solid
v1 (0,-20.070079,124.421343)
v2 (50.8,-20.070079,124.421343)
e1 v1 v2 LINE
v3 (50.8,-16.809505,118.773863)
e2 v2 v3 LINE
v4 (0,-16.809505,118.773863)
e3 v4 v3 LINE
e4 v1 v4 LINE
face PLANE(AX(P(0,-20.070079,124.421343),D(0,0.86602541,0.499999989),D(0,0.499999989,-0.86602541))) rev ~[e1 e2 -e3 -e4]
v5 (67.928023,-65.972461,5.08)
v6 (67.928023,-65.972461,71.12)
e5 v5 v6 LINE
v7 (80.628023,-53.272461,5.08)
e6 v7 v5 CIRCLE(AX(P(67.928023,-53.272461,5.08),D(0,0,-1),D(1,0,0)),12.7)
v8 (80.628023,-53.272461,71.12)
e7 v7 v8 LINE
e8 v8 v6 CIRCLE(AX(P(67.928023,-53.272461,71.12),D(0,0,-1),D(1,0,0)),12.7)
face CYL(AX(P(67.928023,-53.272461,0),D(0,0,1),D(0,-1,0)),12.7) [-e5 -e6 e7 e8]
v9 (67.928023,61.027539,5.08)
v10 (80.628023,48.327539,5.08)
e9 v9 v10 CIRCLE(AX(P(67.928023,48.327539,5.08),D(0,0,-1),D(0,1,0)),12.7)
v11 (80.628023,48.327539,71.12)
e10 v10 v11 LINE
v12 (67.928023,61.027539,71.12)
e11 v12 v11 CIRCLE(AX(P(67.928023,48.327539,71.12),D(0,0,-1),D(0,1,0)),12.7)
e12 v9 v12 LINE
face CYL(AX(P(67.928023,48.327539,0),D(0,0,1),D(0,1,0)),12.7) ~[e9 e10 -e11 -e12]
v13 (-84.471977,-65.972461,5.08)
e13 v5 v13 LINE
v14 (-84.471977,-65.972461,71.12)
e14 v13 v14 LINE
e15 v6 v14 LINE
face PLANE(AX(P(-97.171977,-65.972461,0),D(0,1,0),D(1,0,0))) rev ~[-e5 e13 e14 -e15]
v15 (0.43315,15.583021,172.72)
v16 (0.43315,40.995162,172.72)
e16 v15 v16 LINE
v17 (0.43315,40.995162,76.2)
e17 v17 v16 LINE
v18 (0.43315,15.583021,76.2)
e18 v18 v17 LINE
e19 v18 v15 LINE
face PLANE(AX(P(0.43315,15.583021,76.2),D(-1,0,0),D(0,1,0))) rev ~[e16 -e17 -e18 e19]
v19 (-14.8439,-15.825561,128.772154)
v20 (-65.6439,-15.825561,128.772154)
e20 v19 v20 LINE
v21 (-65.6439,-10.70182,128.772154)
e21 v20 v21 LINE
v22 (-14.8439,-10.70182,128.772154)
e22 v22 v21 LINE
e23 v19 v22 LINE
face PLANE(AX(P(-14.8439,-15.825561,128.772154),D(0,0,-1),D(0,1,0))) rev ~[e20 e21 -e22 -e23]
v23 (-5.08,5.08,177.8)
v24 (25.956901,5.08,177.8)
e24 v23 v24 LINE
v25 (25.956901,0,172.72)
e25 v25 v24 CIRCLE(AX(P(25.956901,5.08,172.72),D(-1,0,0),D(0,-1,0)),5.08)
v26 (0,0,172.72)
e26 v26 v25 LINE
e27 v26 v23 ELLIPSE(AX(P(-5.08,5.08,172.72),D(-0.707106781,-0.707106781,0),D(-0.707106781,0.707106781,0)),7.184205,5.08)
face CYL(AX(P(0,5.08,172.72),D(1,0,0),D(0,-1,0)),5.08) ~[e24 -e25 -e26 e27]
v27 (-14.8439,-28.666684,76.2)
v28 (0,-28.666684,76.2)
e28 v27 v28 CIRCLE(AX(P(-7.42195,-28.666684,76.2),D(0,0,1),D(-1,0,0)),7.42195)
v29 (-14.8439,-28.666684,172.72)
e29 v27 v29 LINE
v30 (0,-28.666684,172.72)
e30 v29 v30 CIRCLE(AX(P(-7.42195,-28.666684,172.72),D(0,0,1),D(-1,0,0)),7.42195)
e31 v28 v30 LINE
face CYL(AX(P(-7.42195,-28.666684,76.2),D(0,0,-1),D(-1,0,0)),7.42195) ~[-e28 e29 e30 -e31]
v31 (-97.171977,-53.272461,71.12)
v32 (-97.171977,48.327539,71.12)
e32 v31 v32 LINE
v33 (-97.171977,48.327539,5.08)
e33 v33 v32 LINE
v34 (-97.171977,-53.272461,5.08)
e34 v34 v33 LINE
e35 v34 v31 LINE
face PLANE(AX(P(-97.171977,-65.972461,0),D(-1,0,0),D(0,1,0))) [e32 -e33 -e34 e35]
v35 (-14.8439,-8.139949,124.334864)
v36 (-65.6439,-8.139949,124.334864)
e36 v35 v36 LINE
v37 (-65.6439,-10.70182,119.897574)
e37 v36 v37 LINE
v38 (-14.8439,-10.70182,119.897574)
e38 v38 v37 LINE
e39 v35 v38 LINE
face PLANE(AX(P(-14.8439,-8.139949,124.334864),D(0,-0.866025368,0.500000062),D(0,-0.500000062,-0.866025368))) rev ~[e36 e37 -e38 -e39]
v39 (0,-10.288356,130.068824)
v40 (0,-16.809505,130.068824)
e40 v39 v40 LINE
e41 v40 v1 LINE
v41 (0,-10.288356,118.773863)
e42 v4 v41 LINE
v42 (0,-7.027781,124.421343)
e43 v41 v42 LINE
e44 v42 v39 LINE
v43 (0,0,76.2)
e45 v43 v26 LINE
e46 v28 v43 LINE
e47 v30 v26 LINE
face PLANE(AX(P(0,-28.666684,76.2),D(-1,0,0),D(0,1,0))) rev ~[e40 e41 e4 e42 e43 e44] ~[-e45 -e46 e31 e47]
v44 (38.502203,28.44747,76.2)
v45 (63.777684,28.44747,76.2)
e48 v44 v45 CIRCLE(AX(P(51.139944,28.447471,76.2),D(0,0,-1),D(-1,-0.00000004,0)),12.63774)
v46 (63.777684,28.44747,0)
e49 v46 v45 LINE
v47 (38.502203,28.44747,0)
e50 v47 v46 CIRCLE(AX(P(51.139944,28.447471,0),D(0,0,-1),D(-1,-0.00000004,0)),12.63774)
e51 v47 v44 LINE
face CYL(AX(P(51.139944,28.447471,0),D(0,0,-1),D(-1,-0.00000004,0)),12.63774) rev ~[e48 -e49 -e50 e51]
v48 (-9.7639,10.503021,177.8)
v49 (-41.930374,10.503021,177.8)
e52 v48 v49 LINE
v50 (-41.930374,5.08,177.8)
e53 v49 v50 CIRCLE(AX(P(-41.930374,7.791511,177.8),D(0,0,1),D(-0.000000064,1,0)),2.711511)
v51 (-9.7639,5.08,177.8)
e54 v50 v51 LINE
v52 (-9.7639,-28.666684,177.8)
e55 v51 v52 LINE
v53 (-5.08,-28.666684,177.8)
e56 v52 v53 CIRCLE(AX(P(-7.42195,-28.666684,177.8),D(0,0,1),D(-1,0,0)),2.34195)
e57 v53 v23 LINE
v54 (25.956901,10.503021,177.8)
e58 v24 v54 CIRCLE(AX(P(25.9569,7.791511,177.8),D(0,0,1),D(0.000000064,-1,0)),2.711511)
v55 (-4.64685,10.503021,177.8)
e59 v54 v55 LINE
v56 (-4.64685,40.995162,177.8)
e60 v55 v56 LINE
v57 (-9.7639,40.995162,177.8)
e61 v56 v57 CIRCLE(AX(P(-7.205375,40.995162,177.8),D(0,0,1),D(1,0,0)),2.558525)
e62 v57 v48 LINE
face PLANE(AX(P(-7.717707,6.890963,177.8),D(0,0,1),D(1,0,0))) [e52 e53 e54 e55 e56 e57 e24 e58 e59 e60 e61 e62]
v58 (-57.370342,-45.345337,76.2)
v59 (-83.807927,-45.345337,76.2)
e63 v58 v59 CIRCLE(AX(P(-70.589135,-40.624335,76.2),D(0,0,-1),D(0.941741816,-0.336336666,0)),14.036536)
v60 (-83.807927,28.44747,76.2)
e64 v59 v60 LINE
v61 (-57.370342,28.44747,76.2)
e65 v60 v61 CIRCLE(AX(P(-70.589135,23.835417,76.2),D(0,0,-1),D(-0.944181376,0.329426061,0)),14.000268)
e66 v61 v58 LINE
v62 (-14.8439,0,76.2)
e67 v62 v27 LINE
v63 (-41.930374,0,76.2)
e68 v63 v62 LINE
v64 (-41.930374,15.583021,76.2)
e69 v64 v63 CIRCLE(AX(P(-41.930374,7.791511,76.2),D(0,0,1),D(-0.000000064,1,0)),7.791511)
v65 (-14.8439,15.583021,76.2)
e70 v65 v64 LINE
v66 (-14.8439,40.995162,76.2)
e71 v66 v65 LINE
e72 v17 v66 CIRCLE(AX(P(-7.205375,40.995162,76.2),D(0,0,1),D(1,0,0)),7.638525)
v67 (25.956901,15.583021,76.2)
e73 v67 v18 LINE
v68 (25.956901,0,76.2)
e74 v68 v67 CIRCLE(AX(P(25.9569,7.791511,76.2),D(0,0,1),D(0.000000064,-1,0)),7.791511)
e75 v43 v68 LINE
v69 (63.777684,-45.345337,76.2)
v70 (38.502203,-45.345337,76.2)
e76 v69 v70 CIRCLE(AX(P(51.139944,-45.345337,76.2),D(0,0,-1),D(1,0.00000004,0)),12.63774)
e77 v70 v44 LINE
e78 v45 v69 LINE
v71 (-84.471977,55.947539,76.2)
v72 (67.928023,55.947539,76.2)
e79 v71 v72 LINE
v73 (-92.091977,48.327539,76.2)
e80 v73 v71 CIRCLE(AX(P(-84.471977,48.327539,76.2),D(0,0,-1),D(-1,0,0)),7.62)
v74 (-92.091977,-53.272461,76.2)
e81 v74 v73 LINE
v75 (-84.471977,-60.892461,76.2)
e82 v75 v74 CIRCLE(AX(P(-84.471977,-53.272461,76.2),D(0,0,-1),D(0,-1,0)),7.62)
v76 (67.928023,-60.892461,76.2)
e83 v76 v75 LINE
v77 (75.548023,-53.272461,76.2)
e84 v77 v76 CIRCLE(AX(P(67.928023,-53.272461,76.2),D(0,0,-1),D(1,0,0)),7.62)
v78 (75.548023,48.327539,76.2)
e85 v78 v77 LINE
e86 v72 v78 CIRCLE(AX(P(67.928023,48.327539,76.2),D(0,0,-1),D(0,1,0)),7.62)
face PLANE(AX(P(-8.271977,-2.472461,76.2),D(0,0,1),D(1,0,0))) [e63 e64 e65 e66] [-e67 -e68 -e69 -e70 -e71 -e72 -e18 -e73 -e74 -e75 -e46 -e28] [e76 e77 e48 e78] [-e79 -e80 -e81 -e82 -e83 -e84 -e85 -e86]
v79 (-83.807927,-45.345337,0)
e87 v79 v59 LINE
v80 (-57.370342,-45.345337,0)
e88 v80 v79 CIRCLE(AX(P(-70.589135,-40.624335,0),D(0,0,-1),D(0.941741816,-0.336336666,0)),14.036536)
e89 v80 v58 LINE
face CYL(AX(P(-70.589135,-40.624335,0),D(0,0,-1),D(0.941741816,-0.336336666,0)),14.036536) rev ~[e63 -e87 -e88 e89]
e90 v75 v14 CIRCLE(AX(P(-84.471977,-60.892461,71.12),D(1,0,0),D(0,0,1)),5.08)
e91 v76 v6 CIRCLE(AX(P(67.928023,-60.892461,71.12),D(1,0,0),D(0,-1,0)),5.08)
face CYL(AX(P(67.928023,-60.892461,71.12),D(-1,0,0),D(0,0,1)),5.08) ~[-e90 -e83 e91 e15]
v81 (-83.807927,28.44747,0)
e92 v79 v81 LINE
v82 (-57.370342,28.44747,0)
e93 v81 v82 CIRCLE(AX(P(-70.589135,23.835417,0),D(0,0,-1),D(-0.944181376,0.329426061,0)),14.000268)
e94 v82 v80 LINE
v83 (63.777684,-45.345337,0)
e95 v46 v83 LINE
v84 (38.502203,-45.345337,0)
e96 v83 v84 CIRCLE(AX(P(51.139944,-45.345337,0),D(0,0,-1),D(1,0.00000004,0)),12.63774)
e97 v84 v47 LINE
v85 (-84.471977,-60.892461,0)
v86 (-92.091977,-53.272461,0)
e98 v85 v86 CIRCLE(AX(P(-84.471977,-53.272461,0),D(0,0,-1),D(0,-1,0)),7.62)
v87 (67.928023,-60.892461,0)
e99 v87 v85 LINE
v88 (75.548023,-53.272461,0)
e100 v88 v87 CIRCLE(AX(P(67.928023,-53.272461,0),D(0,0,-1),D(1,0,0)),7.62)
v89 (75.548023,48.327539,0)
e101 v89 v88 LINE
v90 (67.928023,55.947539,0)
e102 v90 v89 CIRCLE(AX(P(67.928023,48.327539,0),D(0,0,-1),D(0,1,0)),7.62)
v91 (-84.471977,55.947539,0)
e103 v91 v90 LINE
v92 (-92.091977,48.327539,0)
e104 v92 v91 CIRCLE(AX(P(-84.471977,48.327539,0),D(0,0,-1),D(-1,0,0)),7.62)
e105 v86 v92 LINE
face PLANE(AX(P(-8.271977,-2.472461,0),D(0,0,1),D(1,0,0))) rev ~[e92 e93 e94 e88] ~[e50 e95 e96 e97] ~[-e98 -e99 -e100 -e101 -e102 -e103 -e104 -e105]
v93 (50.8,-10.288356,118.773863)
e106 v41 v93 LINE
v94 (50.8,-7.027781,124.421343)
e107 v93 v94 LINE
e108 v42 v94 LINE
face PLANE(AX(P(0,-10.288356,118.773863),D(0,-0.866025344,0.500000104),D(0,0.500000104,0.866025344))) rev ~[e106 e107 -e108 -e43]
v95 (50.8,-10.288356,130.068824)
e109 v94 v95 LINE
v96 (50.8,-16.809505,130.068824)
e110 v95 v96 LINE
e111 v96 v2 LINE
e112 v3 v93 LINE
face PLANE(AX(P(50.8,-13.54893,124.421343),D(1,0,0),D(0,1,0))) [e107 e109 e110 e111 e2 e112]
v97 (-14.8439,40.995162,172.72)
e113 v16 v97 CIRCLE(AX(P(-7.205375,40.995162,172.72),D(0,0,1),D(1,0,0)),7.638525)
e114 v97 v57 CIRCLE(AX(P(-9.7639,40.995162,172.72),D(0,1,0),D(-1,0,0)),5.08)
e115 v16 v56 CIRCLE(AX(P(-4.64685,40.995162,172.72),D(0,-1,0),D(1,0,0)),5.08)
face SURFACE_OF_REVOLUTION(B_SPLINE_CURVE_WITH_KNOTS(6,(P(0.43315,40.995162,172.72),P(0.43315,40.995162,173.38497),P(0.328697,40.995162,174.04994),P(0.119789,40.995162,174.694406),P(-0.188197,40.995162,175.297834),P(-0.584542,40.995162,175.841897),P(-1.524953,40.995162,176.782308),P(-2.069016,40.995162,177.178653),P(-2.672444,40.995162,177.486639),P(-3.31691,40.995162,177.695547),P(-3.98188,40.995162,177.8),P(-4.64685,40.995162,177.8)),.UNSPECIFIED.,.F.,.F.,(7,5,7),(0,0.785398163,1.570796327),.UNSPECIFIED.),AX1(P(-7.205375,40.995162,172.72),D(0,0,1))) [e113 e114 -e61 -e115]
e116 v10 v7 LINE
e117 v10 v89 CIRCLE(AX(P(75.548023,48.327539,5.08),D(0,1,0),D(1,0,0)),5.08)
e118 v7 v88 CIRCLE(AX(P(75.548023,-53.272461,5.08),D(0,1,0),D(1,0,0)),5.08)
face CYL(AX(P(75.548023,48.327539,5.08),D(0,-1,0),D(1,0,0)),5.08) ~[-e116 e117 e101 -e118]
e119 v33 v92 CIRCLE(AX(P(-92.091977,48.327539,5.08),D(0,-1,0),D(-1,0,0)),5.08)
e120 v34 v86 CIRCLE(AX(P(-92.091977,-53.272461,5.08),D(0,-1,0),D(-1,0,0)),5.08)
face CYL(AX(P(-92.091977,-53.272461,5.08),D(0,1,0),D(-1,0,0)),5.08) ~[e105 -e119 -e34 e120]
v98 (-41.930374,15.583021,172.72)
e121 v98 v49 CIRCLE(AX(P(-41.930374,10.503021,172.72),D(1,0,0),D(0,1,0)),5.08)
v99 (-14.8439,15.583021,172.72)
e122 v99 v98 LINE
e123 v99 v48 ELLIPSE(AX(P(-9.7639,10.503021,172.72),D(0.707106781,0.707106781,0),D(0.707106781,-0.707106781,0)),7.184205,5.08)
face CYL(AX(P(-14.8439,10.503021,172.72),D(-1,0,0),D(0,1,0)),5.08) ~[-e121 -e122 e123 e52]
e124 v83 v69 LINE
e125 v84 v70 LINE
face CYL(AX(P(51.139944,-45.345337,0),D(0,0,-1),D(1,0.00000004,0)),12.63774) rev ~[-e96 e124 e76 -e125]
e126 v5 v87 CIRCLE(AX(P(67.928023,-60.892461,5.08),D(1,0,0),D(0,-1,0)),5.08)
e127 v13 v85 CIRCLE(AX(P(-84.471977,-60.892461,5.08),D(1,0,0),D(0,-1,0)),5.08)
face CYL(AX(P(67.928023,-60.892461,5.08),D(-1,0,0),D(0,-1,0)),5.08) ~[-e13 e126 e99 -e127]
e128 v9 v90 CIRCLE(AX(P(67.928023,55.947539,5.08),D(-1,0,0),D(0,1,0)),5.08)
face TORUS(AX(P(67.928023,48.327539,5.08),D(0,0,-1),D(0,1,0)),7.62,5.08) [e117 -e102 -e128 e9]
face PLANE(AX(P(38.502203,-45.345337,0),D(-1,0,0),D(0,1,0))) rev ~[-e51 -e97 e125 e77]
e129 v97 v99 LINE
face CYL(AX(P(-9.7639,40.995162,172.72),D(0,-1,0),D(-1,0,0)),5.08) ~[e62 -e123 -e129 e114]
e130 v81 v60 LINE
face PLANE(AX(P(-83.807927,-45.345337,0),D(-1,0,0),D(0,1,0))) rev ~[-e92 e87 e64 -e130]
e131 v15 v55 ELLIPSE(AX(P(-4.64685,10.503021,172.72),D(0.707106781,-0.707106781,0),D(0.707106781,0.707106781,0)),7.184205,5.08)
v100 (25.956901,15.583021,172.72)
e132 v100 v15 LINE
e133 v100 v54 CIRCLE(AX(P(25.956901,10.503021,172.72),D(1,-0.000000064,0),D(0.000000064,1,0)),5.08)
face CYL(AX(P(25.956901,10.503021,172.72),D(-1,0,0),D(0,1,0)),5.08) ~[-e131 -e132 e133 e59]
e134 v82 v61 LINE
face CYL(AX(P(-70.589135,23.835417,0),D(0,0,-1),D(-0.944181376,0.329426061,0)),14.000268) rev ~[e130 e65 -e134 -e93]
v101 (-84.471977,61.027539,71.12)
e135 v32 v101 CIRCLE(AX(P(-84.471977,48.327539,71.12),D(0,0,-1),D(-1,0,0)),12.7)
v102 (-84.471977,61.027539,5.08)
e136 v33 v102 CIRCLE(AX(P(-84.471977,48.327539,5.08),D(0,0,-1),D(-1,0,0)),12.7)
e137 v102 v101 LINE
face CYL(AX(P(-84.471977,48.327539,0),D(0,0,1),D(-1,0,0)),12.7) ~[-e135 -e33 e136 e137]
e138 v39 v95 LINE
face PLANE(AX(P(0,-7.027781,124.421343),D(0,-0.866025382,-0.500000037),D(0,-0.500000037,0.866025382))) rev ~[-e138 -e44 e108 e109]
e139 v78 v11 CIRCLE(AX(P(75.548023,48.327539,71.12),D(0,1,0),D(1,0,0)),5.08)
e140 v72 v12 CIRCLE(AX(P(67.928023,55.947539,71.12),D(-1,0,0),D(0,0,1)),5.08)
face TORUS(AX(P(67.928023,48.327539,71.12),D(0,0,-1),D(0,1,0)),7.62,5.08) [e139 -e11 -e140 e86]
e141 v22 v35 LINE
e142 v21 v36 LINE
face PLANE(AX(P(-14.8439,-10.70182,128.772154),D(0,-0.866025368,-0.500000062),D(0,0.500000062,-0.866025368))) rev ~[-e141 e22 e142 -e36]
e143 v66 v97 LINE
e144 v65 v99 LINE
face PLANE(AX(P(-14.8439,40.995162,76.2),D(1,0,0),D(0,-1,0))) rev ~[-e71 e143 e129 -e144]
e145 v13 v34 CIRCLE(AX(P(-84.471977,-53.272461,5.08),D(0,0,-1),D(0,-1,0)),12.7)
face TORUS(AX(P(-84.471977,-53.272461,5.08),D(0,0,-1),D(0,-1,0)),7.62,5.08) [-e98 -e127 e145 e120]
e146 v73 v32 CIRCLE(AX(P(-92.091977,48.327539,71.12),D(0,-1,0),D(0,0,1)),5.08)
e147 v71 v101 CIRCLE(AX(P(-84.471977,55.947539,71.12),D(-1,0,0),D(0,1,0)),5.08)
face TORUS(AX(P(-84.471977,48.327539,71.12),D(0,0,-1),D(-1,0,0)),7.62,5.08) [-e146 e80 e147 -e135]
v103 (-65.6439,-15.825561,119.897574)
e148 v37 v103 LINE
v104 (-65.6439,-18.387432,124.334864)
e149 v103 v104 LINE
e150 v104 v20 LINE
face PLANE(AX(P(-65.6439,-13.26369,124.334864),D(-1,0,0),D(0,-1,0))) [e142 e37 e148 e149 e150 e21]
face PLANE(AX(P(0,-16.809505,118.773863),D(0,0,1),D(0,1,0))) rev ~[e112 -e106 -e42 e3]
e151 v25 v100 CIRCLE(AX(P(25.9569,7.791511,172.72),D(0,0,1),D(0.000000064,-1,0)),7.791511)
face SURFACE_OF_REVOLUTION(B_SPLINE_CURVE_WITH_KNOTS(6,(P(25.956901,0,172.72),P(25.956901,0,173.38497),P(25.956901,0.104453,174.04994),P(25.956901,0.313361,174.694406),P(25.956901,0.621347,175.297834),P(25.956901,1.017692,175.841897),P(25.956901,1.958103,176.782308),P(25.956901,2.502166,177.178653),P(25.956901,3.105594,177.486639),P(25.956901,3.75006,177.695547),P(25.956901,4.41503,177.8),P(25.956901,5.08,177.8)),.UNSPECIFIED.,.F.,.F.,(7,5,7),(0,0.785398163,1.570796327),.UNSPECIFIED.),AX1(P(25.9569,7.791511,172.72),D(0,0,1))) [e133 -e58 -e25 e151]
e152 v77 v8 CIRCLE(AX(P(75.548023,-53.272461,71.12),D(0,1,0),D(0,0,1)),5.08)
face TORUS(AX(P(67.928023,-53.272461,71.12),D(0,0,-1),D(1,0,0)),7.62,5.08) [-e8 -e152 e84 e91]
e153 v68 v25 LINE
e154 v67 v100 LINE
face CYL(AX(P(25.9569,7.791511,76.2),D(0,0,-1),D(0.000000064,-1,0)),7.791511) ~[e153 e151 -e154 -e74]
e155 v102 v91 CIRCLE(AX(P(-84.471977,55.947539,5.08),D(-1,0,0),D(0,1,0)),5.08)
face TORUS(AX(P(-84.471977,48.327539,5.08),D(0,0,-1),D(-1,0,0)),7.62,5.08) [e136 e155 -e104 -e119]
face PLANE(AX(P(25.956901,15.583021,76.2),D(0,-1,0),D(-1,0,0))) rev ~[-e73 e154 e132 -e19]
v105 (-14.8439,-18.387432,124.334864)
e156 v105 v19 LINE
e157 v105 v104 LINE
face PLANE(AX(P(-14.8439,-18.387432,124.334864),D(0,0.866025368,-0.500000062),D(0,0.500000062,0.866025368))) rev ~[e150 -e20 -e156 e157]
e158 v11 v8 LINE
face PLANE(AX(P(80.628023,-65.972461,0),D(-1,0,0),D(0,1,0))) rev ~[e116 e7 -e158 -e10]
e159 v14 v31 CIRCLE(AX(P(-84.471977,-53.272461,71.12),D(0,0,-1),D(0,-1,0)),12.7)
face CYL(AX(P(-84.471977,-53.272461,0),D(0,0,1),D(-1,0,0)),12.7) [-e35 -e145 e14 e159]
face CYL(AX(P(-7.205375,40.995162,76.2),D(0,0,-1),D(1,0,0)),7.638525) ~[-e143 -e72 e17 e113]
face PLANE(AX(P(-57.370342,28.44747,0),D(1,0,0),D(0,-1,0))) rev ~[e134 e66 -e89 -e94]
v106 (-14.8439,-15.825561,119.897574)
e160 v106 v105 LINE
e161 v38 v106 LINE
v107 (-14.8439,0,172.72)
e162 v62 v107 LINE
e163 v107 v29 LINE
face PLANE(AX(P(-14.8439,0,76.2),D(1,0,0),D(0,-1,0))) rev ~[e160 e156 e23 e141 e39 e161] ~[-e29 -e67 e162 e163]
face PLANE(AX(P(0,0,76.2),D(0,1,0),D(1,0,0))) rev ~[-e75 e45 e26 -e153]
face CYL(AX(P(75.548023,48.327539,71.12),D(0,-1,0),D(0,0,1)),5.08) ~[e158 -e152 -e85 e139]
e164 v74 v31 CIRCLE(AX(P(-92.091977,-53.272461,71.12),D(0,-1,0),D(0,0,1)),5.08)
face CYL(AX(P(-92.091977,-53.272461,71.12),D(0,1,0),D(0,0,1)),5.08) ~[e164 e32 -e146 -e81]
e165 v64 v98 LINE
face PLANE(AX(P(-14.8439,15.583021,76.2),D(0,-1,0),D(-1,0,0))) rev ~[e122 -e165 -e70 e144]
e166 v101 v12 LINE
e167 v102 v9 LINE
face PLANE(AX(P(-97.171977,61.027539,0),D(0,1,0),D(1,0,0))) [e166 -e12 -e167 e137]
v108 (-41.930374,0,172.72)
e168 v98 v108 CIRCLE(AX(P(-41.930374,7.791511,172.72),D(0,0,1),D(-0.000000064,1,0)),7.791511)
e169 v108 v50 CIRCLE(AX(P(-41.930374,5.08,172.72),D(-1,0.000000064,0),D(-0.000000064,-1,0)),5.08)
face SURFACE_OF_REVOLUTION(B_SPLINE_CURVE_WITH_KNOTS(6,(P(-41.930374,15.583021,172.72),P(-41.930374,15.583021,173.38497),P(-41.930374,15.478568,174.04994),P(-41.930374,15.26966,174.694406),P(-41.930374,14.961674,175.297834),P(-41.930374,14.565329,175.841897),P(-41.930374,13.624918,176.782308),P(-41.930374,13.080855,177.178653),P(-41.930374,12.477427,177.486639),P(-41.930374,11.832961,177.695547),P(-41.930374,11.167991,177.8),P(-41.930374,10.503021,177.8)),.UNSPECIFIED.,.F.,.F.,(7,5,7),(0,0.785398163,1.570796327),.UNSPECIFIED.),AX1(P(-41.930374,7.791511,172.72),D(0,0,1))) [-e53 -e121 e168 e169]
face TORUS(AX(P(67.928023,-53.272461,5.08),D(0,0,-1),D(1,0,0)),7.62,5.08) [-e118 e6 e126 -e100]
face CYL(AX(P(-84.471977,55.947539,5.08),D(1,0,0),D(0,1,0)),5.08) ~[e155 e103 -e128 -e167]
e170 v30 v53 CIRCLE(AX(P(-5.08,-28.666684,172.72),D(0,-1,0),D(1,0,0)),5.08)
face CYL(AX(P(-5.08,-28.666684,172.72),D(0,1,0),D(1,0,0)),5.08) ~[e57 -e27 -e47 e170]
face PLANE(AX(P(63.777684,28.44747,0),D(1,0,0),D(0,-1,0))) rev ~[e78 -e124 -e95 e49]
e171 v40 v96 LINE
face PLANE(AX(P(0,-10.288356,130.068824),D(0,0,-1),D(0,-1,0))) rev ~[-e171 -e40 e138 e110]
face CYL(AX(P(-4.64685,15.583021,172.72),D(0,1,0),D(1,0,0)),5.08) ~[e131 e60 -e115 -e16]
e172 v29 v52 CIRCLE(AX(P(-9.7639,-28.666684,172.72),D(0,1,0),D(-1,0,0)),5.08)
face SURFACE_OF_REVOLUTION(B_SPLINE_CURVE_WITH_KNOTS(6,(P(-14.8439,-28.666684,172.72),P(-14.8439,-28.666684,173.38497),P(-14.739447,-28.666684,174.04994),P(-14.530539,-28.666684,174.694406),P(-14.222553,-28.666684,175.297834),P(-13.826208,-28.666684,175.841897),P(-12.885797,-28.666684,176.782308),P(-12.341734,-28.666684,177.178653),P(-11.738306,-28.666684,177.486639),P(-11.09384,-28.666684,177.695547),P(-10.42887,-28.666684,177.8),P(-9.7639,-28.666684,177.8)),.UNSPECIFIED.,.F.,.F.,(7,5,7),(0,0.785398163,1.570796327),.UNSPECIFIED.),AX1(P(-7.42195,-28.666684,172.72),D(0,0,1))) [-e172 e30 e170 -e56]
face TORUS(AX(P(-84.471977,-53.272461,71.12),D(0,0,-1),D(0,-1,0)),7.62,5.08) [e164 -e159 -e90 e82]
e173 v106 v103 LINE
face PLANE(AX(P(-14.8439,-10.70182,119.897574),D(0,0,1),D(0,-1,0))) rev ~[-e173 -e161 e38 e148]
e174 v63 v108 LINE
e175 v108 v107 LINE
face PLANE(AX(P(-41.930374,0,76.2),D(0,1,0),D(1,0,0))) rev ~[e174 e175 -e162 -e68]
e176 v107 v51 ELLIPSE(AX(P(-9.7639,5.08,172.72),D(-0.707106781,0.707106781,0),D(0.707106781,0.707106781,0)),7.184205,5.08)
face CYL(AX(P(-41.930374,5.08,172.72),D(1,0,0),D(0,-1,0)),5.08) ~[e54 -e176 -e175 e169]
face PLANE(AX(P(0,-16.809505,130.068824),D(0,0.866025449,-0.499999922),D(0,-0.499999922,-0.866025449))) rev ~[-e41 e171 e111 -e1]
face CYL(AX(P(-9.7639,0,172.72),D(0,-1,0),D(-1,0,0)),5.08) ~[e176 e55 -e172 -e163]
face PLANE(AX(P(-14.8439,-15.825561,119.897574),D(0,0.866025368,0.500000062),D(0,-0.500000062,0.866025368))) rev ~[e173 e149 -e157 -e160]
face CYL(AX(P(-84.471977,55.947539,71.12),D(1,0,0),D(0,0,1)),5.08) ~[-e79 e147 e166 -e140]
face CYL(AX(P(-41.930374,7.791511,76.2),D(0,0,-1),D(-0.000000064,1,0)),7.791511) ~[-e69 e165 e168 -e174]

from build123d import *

# Parameters (mm, degrees)
F0_W     = 177.8
F0_H     = 127
F1_DEPTH = 76.2
F2_R     = 12.7
F4_DEPTH = 101.6
F6_DEPTH = 50.8
F8_DEPTH = 50.8
F9_R     = 5.08
F10_R    = 5.08


with BuildPart() as f1:
    # F0 (on Top) → F1 (new body)
    with BuildSketch(Plane.XY):
        with Locations((-8.271977, -2.472461)):
            Rectangle(F0_W, F0_H)
        with BuildLine():
            Line((-83.807927, -45.345337), (-83.807927, 28.44747))
            ThreePointArc((-83.807927, 28.44747), (-70.589135, 37.835685), (-57.370342, 28.44747))
            Line((-57.370342, 28.44747), (-57.370342, -45.345337))
            ThreePointArc((-57.370342, -45.345337), (-70.589135, -54.660871), (-83.807927, -45.345337))
        make_face(mode=Mode.SUBTRACT)
        with BuildLine():
            ThreePointArc((38.502203, 28.44747), (51.139944, 41.085211), (63.777684, 28.44747))
            Line((63.777684, 28.44747), (63.777684, -45.345337))
            ThreePointArc((63.777684, -45.345337), (51.139944, -57.983078), (38.502203, -45.345337))
            Line((38.502203, -45.345337), (38.502203, 28.44747))
        make_face(mode=Mode.SUBTRACT)
    extrude(amount=F1_DEPTH)

    # F2
    f2_edges = [f1.edges().sort_by_distance(p)[0] for p in [
        (80.628023, 61.027539, 38.1),
        (80.628023, -65.972461, 38.1),
        (-97.171977, 61.027539, 38.1),
        (-97.171977, -65.972461, 38.1),
    ]]
    fillet(f2_edges, radius=F2_R)

    # F3 (on face) → F4 (join)
    with BuildSketch(Plane.XY.offset(76.2)):
        with BuildLine():
            ThreePointArc((0.43315, 40.995162), (-7.205375, 48.633687), (-14.8439, 40.995162))
            Line((-14.8439, 40.995162), (-14.8439, 15.583021))
            Line((-14.8439, 15.583021), (-41.930374, 15.583021))
            ThreePointArc((-41.930374, 15.583021), (-49.721884, 7.79151), (-41.930374, 0))
            Line((-41.930374, 0), (-14.8439, 0))
            Line((-14.8439, 0), (-14.8439, -28.666684))
            ThreePointArc((-14.8439, -28.666684), (-7.42195, -36.088634), (0, -28.666684))
            Line((0, -28.666684), (0, 0))
            Line((0, 0), (25.956901, 0))
            ThreePointArc((25.956901, 0), (33.748411, 7.79151), (25.956901, 15.583021))
            Line((25.956901, 15.583021), (0.43315, 15.583021))
            Line((0.43315, 15.583021), (0.43315, 40.995162))
        make_face()
    extrude(amount=F4_DEPTH)

    # F5 (on face) → F6 (join)
    with BuildSketch(Plane.YZ):
        Polygon((-16.809505, 118.773863), (-10.288356, 118.773863), (-7.027781, 124.421343), (-10.288356, 130.068824), (-16.809505, 130.068824), (-20.070079, 124.421343), align=None)
    extrude(amount=F6_DEPTH)

    # F7 (on face) → F8 (join)
    with BuildSketch(Plane(origin=(-14.8439, 0, 0), x_dir=(0, -1, 0), z_dir=(-1, 0, 0))):
        Polygon((15.825561, 128.772154), (10.70182, 128.772154), (8.139949, 124.334864), (10.70182, 119.897574), (15.825561, 119.897574), (18.387432, 124.334864), align=None)
    extrude(amount=F8_DEPTH)

    # F9
    f9_edges = [f1.edges().sort_by_distance(p)[0] for p in [
        (0.43315, 28.289091, 177.8),
        (-7.205375, 48.633687, 177.8),
        (-14.8439, 28.289091, 177.8),
        (-28.387137, 15.583021, 177.8),
        (-49.721884, 7.79151, 177.8),
        (-28.387137, 0, 177.8),
        (-14.8439, -14.333342, 177.8),
        (-7.42195, -36.088634, 177.8),
        (0, -14.333342, 177.8),
        (12.97845, 0, 177.8),
        (33.748411, 7.79151, 177.8),
        (13.195026, 15.583021, 177.8),
    ]]
    fillet(f9_edges, radius=F9_R)

    # F10
    f10_edges = [f1.edges().sort_by_distance(p)[0] for p in [
        (-97.171977, -2.472461, 0),
        (-97.171977, 48.327539, 38.1),
        (-97.171977, -53.272461, 38.1),
        (-97.171977, -2.472461, 76.2),
    ]]
    fillet(f10_edges, radius=F10_R)


solid = f1.part
